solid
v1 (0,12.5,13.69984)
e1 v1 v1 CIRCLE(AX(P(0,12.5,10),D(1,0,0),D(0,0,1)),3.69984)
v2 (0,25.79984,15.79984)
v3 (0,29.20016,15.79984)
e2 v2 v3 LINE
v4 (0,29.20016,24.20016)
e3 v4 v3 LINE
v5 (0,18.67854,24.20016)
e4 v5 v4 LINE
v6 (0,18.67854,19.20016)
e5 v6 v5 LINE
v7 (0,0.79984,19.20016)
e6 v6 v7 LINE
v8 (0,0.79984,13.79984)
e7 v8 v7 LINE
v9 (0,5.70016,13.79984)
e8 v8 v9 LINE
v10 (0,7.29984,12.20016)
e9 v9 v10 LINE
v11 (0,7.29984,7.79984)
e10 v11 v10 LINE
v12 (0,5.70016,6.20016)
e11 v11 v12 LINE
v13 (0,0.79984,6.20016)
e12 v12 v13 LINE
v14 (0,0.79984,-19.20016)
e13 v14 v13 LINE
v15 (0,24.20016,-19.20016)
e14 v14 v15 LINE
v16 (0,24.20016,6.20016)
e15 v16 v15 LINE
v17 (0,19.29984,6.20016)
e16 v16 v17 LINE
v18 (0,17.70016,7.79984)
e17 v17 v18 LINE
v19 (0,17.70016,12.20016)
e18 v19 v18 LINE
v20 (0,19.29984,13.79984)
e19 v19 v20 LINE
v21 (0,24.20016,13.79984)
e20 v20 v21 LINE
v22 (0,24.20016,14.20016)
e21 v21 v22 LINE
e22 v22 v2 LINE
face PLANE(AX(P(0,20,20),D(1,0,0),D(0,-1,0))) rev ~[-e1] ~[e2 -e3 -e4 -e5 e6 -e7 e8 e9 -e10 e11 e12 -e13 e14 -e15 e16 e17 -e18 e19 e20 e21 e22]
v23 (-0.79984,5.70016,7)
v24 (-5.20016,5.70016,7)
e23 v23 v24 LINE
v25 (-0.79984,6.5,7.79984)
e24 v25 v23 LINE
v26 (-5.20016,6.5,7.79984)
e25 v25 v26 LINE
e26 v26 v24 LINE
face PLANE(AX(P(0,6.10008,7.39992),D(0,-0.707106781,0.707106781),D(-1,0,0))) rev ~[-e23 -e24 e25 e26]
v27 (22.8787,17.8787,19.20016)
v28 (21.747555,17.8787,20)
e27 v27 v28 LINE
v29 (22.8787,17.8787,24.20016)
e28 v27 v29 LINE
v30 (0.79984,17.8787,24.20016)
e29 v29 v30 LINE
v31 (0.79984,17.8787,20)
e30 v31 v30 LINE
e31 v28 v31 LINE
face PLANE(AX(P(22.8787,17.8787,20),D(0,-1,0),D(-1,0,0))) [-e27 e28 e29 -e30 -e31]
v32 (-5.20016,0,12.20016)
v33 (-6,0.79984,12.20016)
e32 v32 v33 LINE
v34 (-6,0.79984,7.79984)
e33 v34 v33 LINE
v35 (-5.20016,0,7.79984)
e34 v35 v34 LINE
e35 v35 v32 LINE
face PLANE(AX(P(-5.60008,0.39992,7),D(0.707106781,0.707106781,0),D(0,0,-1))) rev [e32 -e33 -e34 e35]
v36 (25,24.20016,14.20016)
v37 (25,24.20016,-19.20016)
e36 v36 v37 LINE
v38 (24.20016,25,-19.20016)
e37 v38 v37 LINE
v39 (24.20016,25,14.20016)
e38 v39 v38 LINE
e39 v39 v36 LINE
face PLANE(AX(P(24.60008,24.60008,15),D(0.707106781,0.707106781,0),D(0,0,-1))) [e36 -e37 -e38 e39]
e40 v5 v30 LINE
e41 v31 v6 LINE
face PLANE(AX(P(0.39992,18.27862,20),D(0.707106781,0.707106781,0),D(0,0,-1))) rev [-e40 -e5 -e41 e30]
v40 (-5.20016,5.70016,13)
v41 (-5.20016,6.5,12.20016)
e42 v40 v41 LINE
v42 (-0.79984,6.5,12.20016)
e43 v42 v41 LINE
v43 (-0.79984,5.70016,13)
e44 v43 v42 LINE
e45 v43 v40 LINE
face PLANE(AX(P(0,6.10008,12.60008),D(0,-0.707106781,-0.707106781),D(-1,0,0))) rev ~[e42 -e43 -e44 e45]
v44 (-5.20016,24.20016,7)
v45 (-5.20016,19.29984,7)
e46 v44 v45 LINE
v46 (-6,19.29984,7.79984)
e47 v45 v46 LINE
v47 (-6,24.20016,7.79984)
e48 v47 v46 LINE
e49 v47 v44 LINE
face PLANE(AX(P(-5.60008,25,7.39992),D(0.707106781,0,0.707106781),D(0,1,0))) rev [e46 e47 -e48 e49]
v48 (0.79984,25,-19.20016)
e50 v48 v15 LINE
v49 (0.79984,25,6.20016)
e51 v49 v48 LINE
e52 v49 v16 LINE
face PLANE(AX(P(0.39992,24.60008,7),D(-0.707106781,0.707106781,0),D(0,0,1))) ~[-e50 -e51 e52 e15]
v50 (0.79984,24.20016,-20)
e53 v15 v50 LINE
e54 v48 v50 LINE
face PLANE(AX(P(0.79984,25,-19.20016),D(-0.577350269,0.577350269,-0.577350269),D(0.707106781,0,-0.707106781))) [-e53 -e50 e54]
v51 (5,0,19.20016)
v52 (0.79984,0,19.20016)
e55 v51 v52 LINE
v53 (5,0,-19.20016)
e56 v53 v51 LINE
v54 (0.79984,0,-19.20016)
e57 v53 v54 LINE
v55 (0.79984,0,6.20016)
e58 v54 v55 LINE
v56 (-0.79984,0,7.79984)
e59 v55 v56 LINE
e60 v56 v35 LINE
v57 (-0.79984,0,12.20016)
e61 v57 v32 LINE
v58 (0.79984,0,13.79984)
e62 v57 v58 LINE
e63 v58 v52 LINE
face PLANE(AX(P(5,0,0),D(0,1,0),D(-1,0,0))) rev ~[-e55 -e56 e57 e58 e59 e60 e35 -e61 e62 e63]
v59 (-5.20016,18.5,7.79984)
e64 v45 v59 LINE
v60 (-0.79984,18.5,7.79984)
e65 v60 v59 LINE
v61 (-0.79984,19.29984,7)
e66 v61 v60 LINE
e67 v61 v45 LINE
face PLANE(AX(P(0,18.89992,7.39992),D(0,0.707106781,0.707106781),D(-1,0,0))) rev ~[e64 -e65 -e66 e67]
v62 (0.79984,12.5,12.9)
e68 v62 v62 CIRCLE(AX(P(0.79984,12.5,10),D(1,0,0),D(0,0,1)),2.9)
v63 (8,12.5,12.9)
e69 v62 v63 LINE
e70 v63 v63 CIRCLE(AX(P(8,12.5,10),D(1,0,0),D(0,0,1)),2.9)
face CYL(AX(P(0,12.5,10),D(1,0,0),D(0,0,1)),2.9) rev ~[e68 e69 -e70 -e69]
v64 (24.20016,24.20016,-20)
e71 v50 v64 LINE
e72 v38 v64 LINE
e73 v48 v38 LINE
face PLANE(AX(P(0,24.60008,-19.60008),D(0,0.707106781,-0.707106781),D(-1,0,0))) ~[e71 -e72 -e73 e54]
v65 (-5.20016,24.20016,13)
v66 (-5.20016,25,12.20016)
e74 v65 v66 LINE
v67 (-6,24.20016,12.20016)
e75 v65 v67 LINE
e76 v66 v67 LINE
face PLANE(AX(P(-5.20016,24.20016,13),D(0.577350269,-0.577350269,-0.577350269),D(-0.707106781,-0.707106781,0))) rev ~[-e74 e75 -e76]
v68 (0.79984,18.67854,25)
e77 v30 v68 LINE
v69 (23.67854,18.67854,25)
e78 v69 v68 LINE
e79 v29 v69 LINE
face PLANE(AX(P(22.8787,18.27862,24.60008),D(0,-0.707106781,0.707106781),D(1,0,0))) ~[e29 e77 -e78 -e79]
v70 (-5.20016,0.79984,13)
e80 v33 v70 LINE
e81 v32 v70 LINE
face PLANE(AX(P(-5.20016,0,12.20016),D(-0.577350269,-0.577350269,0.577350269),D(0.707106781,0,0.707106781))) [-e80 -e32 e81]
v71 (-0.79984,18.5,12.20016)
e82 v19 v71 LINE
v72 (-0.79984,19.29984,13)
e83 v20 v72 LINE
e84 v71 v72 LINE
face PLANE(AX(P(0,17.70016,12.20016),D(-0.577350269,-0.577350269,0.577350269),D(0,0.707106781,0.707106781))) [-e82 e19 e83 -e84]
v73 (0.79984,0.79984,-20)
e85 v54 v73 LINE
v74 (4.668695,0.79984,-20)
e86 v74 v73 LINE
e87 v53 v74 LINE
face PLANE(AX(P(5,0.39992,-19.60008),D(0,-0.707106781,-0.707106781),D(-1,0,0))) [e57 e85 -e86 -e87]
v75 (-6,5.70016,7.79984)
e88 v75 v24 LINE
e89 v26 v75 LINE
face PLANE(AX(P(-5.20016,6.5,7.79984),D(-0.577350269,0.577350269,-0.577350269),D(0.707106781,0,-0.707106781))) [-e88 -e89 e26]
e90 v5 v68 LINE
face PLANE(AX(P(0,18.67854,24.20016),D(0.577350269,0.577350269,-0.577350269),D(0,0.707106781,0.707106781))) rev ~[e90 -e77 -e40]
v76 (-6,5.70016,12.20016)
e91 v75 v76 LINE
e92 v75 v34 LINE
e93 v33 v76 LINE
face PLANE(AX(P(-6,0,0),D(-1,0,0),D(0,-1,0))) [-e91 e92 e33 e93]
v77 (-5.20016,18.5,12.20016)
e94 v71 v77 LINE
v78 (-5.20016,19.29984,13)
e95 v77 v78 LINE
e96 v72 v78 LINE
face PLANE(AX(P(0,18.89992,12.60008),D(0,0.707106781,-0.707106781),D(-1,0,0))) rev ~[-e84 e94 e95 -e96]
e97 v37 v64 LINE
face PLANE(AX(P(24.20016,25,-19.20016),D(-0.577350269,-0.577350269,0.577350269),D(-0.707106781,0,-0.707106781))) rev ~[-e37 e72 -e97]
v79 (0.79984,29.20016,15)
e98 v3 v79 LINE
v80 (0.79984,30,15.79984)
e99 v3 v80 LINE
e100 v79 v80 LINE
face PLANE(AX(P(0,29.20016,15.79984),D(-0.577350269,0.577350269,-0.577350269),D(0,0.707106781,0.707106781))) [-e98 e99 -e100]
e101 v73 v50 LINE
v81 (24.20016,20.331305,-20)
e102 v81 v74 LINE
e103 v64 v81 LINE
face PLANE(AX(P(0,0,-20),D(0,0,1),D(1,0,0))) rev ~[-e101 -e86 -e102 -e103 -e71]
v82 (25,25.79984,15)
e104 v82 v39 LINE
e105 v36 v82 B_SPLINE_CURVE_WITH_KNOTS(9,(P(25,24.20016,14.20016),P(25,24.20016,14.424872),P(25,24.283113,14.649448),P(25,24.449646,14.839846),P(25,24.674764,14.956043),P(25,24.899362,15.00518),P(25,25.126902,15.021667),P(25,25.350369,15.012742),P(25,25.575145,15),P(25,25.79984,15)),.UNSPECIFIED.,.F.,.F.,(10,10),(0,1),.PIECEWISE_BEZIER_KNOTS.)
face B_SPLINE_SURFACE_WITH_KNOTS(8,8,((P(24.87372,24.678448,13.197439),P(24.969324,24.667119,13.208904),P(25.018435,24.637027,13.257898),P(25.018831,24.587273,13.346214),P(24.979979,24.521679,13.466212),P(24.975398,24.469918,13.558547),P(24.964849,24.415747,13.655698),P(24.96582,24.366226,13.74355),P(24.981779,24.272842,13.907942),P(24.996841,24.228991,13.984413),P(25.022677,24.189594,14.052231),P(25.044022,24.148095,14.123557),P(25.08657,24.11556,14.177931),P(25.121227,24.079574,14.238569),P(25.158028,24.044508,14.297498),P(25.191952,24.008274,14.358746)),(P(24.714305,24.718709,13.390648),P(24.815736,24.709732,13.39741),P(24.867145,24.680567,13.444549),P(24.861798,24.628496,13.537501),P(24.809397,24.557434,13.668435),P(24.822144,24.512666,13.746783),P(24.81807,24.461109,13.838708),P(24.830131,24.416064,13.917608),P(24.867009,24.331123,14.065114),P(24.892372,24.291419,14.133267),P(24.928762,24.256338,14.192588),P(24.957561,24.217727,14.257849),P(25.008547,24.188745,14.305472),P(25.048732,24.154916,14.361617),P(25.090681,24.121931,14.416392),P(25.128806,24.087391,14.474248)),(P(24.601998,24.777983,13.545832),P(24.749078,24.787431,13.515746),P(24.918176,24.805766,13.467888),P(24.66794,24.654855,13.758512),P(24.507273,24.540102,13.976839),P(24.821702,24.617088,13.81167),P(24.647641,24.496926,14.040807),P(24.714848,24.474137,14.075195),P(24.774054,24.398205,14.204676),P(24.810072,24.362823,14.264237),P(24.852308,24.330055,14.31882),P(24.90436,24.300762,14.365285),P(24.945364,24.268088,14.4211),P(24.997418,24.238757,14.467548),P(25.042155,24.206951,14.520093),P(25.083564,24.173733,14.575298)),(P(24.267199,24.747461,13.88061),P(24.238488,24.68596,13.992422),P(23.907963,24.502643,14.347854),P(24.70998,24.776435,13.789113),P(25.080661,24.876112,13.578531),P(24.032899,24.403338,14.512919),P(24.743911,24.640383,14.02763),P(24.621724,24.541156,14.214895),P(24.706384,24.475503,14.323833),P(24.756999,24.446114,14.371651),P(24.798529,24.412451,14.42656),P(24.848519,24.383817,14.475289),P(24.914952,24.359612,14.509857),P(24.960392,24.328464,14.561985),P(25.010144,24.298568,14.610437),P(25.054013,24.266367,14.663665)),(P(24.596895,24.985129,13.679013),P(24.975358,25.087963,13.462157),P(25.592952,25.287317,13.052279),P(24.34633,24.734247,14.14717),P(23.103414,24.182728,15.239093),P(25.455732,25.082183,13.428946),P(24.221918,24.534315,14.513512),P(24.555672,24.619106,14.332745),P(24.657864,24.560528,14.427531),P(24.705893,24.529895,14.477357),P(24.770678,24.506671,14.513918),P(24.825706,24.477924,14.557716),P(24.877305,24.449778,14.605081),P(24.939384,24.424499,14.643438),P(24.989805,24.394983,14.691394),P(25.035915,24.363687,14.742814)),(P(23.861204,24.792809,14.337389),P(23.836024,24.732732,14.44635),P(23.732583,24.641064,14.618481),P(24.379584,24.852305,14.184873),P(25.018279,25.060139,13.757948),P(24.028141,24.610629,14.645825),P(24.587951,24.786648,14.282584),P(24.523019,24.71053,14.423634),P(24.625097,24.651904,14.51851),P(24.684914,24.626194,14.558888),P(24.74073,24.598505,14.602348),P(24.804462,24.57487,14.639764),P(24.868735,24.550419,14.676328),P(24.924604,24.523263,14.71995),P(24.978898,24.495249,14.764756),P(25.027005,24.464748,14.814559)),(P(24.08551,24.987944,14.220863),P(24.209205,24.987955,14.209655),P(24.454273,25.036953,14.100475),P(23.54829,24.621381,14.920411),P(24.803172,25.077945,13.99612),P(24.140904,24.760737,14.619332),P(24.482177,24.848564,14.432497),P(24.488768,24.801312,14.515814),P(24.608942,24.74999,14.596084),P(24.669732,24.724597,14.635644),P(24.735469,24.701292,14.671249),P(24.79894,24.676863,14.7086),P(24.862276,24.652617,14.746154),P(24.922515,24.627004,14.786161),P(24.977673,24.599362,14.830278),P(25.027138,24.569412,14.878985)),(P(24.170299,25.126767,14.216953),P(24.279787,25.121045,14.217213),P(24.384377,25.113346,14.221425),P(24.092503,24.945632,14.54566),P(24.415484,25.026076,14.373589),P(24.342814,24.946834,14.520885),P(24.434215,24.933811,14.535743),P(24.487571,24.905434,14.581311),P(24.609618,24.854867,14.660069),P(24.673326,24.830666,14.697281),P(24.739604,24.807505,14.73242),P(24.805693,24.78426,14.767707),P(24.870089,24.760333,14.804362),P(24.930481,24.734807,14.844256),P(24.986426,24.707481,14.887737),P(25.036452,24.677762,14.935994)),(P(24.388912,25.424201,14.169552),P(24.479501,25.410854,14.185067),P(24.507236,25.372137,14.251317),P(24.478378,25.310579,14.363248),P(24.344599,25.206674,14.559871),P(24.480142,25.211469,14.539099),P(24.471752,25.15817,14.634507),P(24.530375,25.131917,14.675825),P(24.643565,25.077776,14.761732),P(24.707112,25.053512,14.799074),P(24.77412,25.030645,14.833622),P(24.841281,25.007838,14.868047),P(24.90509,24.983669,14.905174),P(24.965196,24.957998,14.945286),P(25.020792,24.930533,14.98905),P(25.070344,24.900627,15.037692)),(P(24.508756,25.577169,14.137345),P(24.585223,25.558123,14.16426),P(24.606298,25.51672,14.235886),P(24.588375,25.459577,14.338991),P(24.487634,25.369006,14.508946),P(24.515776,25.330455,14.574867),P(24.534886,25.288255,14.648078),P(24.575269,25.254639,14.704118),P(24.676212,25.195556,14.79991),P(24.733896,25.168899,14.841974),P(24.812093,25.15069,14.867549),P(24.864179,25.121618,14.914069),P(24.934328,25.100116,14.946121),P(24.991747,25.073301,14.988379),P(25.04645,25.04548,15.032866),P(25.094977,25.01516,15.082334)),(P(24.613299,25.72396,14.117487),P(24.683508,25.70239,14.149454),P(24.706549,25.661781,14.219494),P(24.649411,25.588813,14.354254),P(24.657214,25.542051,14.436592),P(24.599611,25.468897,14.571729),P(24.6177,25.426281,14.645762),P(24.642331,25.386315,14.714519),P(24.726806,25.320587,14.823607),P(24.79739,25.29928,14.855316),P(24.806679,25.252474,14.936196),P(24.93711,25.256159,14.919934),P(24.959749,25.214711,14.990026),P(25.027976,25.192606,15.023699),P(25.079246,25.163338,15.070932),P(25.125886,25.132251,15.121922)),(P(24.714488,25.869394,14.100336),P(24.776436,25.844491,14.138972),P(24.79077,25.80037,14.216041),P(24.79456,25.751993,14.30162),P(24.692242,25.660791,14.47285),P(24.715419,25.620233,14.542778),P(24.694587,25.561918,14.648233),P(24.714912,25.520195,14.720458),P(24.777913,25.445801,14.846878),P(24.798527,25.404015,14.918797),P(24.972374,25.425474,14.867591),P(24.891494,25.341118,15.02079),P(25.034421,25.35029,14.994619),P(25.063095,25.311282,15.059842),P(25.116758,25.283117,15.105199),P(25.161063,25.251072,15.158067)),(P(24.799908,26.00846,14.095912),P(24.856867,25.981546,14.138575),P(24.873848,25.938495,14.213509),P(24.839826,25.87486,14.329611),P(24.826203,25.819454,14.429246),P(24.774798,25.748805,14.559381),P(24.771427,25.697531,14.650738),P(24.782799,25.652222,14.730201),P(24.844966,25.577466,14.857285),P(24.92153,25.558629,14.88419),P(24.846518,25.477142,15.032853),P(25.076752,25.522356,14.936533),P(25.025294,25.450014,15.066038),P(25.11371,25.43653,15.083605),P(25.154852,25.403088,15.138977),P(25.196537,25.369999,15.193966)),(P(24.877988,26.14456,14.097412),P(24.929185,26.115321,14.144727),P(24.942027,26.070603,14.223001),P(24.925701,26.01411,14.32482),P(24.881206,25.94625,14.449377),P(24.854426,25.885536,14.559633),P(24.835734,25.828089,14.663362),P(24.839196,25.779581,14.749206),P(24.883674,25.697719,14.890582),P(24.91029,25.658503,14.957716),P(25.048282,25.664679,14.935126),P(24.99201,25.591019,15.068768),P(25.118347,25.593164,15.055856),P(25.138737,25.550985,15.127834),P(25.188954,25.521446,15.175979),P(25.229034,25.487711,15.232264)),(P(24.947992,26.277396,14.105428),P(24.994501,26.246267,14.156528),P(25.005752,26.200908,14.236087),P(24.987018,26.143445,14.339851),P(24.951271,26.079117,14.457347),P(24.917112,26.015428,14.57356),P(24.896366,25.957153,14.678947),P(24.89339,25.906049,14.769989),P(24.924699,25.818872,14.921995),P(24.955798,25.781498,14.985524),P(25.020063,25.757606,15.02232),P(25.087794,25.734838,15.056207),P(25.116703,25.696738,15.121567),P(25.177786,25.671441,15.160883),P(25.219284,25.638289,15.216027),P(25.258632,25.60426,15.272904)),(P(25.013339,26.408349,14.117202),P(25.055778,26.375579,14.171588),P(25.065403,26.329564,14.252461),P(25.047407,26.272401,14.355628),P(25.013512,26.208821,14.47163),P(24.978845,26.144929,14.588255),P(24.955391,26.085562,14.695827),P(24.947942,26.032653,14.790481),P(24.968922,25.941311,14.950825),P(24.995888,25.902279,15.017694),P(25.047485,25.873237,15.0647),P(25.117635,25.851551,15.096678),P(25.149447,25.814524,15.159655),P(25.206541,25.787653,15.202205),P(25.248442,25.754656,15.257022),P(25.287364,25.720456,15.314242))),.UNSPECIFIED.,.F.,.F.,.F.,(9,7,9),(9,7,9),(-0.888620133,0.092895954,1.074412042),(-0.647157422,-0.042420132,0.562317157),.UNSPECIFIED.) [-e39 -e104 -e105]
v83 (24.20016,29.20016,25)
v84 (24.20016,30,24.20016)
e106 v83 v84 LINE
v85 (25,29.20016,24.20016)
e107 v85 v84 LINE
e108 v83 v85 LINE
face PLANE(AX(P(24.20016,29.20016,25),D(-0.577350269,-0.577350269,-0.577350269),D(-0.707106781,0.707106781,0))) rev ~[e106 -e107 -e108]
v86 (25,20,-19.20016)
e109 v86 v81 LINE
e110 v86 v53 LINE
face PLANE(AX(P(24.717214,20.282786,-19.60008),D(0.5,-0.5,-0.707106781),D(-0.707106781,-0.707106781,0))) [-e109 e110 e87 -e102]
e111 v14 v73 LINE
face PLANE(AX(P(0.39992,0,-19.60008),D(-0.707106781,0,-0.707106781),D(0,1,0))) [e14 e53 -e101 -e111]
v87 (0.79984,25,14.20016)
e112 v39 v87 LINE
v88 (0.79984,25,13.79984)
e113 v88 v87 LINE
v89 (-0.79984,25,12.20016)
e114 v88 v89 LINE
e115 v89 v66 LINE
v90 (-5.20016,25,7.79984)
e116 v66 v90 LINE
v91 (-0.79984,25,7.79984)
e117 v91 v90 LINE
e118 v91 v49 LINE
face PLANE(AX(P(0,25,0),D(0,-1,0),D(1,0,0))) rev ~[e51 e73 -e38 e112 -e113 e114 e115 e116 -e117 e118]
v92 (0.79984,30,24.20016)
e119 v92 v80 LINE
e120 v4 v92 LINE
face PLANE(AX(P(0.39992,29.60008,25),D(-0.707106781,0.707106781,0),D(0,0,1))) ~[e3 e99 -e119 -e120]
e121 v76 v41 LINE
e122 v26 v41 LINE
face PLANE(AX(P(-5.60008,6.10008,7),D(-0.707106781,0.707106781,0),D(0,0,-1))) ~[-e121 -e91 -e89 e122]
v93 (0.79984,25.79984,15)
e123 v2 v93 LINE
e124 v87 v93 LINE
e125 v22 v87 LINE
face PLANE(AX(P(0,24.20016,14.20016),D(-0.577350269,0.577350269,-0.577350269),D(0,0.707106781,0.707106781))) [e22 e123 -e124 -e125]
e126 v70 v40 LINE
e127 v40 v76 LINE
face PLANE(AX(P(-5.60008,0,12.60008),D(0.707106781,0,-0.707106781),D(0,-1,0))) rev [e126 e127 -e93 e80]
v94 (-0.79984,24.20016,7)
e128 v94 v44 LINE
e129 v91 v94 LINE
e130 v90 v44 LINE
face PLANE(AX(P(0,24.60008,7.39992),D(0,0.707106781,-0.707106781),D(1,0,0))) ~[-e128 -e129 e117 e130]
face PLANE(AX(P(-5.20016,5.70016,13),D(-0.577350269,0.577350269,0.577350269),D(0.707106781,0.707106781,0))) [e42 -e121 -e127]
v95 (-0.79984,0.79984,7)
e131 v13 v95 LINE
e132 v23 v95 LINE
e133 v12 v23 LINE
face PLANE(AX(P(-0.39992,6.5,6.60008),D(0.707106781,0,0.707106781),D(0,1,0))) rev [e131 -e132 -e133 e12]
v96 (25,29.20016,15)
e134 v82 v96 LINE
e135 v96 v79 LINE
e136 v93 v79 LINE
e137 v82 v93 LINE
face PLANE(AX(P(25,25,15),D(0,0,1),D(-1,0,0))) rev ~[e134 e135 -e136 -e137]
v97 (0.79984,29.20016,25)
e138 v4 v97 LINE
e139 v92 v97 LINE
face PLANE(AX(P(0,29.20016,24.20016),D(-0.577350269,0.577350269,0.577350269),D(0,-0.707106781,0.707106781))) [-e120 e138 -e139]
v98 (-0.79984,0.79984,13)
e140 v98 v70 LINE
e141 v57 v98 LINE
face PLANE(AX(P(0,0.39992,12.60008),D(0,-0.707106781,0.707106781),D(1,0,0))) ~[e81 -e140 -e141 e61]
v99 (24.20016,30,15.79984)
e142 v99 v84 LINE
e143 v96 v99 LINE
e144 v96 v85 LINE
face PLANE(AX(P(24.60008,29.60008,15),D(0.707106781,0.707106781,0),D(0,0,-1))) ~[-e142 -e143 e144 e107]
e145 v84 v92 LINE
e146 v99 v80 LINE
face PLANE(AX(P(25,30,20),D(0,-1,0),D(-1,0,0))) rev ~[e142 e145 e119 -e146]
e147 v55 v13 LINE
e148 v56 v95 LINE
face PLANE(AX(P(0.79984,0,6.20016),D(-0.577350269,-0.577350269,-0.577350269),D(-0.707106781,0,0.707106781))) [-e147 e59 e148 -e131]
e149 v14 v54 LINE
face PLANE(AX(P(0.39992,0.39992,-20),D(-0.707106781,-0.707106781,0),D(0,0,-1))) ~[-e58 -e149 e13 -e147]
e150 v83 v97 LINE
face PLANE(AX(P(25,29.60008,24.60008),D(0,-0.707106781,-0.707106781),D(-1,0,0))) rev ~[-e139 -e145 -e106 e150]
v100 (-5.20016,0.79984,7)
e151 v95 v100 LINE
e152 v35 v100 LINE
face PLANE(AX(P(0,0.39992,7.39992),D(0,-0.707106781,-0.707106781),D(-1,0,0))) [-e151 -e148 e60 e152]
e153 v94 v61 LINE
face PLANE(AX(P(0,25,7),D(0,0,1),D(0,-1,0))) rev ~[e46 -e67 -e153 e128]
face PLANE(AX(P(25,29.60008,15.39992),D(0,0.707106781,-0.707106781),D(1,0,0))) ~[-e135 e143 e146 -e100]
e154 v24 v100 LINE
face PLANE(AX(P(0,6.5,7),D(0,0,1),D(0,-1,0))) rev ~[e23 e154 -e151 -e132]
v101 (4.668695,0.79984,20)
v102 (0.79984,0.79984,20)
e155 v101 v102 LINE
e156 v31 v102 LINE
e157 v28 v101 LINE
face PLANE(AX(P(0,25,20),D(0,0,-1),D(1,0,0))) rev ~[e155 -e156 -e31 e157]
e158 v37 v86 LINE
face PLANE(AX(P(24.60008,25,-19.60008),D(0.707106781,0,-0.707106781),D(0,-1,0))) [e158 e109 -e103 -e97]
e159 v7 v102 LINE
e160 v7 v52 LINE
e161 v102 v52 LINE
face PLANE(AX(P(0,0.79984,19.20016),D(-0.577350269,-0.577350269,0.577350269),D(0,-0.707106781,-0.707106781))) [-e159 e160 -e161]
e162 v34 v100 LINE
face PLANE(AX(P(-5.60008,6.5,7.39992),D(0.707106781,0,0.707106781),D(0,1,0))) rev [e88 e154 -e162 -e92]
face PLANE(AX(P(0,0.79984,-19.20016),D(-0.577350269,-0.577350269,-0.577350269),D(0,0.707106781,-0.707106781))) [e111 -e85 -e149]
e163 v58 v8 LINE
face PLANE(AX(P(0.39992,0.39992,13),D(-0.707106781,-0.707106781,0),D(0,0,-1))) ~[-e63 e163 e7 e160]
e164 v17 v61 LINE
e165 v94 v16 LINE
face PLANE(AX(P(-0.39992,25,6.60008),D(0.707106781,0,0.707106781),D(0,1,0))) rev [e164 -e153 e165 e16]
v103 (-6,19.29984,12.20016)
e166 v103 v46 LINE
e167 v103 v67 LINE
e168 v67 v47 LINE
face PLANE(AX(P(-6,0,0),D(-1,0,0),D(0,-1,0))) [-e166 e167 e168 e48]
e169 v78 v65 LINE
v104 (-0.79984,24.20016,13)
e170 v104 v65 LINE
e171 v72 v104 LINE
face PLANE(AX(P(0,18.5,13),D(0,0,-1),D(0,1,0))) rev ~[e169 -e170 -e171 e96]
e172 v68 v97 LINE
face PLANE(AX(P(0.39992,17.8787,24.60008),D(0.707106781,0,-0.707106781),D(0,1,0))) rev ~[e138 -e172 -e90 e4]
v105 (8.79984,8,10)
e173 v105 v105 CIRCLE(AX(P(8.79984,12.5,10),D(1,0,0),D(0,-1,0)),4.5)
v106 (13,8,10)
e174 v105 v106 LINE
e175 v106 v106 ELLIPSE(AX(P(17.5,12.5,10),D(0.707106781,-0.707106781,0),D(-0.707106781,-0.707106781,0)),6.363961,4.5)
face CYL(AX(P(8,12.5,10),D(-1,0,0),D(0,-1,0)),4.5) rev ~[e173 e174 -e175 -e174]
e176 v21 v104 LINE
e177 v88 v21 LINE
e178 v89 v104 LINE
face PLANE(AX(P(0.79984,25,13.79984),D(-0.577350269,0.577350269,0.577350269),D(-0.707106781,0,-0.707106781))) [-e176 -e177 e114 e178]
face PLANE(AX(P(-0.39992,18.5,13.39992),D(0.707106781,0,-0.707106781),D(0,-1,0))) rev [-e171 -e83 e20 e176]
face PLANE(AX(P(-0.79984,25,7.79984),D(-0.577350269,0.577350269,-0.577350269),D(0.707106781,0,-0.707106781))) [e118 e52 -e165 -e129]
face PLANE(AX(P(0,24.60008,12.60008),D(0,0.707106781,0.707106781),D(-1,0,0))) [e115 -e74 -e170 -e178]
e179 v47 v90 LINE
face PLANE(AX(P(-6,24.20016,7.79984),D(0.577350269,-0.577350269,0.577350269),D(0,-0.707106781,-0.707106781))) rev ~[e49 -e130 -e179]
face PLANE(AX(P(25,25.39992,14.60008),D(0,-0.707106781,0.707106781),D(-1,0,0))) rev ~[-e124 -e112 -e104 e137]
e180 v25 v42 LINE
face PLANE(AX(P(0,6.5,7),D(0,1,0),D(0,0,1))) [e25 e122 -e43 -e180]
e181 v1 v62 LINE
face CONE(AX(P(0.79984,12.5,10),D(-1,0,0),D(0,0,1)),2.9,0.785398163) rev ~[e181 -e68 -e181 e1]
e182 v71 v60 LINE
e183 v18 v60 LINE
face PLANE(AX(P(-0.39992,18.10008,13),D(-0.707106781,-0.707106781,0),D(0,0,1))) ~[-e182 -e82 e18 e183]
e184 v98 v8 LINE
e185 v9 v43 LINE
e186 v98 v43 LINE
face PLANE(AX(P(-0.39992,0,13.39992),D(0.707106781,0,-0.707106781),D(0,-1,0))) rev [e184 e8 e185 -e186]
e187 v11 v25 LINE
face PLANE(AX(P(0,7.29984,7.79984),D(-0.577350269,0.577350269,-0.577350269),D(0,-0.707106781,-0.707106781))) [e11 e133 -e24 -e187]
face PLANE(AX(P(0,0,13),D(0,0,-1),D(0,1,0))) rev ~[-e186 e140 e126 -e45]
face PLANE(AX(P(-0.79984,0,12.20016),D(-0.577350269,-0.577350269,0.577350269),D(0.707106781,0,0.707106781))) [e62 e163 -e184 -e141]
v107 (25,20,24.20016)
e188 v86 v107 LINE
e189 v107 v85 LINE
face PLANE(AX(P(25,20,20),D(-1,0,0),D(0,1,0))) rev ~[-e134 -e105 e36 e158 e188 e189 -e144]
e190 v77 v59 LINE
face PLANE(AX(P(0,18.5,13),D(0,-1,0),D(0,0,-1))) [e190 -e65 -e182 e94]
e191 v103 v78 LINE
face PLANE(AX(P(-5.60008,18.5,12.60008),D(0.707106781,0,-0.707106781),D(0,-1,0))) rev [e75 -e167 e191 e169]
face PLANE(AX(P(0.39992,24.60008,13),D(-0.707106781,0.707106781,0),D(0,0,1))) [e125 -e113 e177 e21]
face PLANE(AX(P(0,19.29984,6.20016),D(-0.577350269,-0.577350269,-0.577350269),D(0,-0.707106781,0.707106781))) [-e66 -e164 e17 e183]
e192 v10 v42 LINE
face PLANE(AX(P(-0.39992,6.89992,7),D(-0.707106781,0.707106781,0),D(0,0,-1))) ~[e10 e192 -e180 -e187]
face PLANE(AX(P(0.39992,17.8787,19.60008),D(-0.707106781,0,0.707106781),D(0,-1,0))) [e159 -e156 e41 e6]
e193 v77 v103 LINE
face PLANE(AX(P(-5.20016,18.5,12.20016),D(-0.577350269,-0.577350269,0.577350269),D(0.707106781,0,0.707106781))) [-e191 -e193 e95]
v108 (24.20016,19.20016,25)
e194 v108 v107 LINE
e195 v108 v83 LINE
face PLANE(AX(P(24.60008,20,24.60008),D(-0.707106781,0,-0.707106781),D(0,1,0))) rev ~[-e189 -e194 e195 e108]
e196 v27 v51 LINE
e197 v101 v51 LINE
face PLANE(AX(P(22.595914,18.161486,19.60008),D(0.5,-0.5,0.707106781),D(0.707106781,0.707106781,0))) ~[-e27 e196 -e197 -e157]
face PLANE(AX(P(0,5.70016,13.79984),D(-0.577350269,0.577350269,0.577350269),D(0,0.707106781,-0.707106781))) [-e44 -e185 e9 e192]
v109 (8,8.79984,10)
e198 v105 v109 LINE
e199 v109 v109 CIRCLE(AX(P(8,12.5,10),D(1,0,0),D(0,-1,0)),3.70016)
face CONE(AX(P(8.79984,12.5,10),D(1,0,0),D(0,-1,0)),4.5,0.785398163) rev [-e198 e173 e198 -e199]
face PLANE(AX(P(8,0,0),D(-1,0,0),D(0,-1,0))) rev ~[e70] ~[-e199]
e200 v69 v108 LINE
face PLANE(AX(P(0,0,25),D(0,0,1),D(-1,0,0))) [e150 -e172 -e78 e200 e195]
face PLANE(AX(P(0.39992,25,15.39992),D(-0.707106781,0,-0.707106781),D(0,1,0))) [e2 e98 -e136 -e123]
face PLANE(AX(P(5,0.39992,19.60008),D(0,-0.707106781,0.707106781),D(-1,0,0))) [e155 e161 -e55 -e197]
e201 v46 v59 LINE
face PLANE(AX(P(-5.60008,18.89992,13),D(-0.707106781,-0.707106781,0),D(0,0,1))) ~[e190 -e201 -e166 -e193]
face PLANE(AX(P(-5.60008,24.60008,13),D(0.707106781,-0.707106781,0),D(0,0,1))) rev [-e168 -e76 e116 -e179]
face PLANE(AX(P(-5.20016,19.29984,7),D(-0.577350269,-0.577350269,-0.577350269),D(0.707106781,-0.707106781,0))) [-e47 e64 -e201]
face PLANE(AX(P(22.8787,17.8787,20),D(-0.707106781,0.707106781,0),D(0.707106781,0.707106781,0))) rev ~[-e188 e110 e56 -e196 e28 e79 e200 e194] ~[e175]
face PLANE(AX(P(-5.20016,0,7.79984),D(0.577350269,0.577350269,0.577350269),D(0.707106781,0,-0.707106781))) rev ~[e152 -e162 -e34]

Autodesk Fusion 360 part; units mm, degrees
sketch "Bracket Profile" plane through (0, 0, 0) normal (0, 0, 1) x (1, 0, 0) in component "Bracket"
  line L0 (0, 0) -> (0, 25)
  line L1 (0, 25) -> (25, 25)
  line L2 (25, 25) -> (25, 20)
  line L3 (25, 20) -> (5, 0)
  line L4 (5, 0) -> (0, 0)
  dimension "d1" = 5
  dimension "d2" = 25
  dimension "d3" = 25
  dimension "d4" = 5
extrude "Extrude1" add sketch "Bracket Profile" along normal blind 20 in component "Bracket"
sketch "Clearance Hole" plane through (0, 0, 0) normal (-1, 0, 0) x (0, -1, 0) in component "Bracket"
  line L0 (-25, 0) -> (0, 0)
  line L1 (0, 0) -> (0, 20)
  line L2 (0, 20) -> (-25, 20)
  line L3 (-25, 20) -> (-25, 0)
  line L4 (-25, 10) -> (0, 10) construction
  line L5 (-12.5, 20) -> (-12.5, 0) construction
  circle A0 centre (-12.5, 10) radius 2.9
  circle A1 centre (-12.5, 10) radius 4.5
  line L6 (0, 13) -> (-25, 13)
  line L7 (-25, 13) -> (-25, 7)
  line L8 (-25, 7) -> (0, 7)
  line L9 (0, 7) -> (0, 13)
  line L10 (0, 13) -> (-25, 7) construction
  line L11 (-25, 13) -> (0, 7) construction
  line L12 (-6.5, 13) -> (-18.5, 13)
  line L13 (-18.5, 13) -> (-18.5, 7)
  line L14 (-18.5, 7) -> (-6.5, 7)
  line L15 (-6.5, 7) -> (-6.5, 13)
  line L16 (-6.5, 13) -> (-18.5, 7) construction
  line L17 (-18.5, 13) -> (-6.5, 7) construction
  point P0 (-12.5, 10)
  point P1 (-12.5, 10)
  dimension "d9" = 5.8
  dimension "d13" = 9
  dimension "d20" = 25
  dimension "d21" = 6
  dimension "d24" = 12
  dimension "d25" = 6
extrude "Extrude3" add sketch "Clearance Hole" along normal blind 6 contours L3 L6 L7 L8 L13 | L1 L6 L8 L9 L15 in component "Bracket"
hole "Hole1" at (0, 12.5, 10) direction (1, 0, 0) diameter 5.8 end through all in component "Bracket"
extrude "Extrude2" cut sketch "Clearance Hole" against normal through all from surface at -8 contours A1 L8 L14 | A1 L6 L8 L12 L14 | A1 L6 L12 in component "Bracket"
sketch "Shelf stop" plane through (0, 25, 0) normal (0, 1, 0) x (-1, 0, 0) in component "Bracket"
  line L0 (-25, 0) -> (0, 0)
  line L1 (0, 0) -> (0, 7)
  line L2 (0, 7) -> (6, 7)
  line L3 (6, 7) -> (6, 13)
  line L4 (6, 13) -> (0, 13)
  line L5 (0, 13) -> (0, 20)
  line L6 (0, 20) -> (-25, 20)
  line L7 (-25, 20) -> (-25, 0)
  line L8 (0, 20) -> (-25, 20)
  line L9 (-25, 20) -> (-25, 15)
  line L10 (-25, 15) -> (0, 15)
  line L11 (0, 15) -> (0, 20)
  dimension "d28" = 25
  dimension "d29" = 5
extrude "Extrude5" add 1 faces at (10, 15, 0) along direction (0, 0, -1) blind 20 in component "Bracket"
extrude "Extrude4" add sketch "Shelf stop" along normal blind 5 contours L5 L6 L7 L8 L9 L10 L11 in component "Bracket"
sketch "Sketch1" plane through (0, 0, 20) normal (0, 0, 1) x (-1, 0, 0)
  line L0 (-5, 0) -> (-25, -20)
  line L1 (-25, -20) -> (-25, -30)
  line L2 (-25, -30) -> (0, -30)
  line L3 (0, -30) -> (0, 0)
  line L4 (0, 0) -> (-5, 0)
sketch "Latch Lip" plane through (0, 0, 20) normal (0, 0, 1) x (-1, 0, 0) in component "Bracket"
  line L0 (-5, 0) -> (-25, -20)
  line L1 (-25, -20) -> (-25, -30)
  line L2 (-25, -30) -> (0, -30)
  line L3 (0, -30) -> (0, 0)
  line L4 (0, 0) -> (-5, 0)
  line L5 (0, -20) -> (0, -30)
  line L6 (0, -30) -> (-25, -30)
  line L7 (-25, -30) -> (-25, -20)
  line L8 (-25, -20) -> (-22.8787, -17.8787)
  line L9 (-22.8787, -17.8787) -> (0, -17.8787)
  line L10 (0, -20) -> (0, -17.8787)
  dimension "d36" = 3
extrude "Extrude6" add sketch "Latch Lip" along normal blind 5 contours L0 L1 L2 L3 L5 L6 L7 L8 L9 L10 in component "Bracket"
chamfer "Chamfer1" distance 0.8 angle 45 11 edges at (8, 16.6955, 8.3727) (2.5, 0, 20) (13.9393, 8.9393, 20) (25, 30, 20) (12.5, 30, 15) (2.5, 0, -20) (15, 10, -20) (25, 22.5, -20) (25, 25, 25) (12.5, 30, 25) (11.4393, 17.8787, 25) 2 faces at (0, 12.5, -10.9667) (16.6667, 25, 0.6667) in component "Bracket"
chamfer "Chamfer1" distance 0.8 angle 45 8 faces at (-6, 4.3333, 11) (-6, 22.8333, 11) (-2, 2.1667, 13) (-2, 20.6667, 13) (-4, 18.5, 9) (-2, 6.5, 9) (-2, 4.3333, 7) (-2, 22.8333, 7) in component "Bracket"
component "Bracket" placed x (1, 0, 0) y (0, 1, 0) z (0, 0, 1) at (0, 0, 0)
equation "d1 = BracketLipSize"
equation "d2 = ExtrusionSize + BracketLipSize"
equation "d3 = ExtrusionSize + BracketLipSize"
equation "d4 = BracketLipSize"
equation "ExtrusionSize = 20 mm"
equation "BracketLipSize = 5 mm"
equation "d7 = ExtrusionSize"
equation "d9 = ScrewClearanceHole"
equation "ScrewClearanceHole = 5.8 mm"
equation "d11 = ScrewClearanceHole"
equation "d13 = ScrewHeadClearance"
equation "ScrewHeadClearance = 9 mm"
equation "d15 = -ExtrusionSize / 2.5"
equation "Chamfer = 0.8 mm"
equation "d18 = Chamfer"
equation "Tounge = 6 mm"
equation "d20 = ExtrusionSize + BracketLipSize"
equation "d21 = Tounge"
equation "d22 = Tounge"
equation "d24 = NutClearance"
equation "d25 = Tounge"
equation "NutClearance = 12 mm"
equation "d27 = Chamfer"
equation "d28 = ExtrusionSize + BracketLipSize"
equation "d29 = BracketLipSize"
equation "d30 = BracketLipSize"
equation "d32 = ExtrusionSize"
equation "d34 = BracketLipSize"
